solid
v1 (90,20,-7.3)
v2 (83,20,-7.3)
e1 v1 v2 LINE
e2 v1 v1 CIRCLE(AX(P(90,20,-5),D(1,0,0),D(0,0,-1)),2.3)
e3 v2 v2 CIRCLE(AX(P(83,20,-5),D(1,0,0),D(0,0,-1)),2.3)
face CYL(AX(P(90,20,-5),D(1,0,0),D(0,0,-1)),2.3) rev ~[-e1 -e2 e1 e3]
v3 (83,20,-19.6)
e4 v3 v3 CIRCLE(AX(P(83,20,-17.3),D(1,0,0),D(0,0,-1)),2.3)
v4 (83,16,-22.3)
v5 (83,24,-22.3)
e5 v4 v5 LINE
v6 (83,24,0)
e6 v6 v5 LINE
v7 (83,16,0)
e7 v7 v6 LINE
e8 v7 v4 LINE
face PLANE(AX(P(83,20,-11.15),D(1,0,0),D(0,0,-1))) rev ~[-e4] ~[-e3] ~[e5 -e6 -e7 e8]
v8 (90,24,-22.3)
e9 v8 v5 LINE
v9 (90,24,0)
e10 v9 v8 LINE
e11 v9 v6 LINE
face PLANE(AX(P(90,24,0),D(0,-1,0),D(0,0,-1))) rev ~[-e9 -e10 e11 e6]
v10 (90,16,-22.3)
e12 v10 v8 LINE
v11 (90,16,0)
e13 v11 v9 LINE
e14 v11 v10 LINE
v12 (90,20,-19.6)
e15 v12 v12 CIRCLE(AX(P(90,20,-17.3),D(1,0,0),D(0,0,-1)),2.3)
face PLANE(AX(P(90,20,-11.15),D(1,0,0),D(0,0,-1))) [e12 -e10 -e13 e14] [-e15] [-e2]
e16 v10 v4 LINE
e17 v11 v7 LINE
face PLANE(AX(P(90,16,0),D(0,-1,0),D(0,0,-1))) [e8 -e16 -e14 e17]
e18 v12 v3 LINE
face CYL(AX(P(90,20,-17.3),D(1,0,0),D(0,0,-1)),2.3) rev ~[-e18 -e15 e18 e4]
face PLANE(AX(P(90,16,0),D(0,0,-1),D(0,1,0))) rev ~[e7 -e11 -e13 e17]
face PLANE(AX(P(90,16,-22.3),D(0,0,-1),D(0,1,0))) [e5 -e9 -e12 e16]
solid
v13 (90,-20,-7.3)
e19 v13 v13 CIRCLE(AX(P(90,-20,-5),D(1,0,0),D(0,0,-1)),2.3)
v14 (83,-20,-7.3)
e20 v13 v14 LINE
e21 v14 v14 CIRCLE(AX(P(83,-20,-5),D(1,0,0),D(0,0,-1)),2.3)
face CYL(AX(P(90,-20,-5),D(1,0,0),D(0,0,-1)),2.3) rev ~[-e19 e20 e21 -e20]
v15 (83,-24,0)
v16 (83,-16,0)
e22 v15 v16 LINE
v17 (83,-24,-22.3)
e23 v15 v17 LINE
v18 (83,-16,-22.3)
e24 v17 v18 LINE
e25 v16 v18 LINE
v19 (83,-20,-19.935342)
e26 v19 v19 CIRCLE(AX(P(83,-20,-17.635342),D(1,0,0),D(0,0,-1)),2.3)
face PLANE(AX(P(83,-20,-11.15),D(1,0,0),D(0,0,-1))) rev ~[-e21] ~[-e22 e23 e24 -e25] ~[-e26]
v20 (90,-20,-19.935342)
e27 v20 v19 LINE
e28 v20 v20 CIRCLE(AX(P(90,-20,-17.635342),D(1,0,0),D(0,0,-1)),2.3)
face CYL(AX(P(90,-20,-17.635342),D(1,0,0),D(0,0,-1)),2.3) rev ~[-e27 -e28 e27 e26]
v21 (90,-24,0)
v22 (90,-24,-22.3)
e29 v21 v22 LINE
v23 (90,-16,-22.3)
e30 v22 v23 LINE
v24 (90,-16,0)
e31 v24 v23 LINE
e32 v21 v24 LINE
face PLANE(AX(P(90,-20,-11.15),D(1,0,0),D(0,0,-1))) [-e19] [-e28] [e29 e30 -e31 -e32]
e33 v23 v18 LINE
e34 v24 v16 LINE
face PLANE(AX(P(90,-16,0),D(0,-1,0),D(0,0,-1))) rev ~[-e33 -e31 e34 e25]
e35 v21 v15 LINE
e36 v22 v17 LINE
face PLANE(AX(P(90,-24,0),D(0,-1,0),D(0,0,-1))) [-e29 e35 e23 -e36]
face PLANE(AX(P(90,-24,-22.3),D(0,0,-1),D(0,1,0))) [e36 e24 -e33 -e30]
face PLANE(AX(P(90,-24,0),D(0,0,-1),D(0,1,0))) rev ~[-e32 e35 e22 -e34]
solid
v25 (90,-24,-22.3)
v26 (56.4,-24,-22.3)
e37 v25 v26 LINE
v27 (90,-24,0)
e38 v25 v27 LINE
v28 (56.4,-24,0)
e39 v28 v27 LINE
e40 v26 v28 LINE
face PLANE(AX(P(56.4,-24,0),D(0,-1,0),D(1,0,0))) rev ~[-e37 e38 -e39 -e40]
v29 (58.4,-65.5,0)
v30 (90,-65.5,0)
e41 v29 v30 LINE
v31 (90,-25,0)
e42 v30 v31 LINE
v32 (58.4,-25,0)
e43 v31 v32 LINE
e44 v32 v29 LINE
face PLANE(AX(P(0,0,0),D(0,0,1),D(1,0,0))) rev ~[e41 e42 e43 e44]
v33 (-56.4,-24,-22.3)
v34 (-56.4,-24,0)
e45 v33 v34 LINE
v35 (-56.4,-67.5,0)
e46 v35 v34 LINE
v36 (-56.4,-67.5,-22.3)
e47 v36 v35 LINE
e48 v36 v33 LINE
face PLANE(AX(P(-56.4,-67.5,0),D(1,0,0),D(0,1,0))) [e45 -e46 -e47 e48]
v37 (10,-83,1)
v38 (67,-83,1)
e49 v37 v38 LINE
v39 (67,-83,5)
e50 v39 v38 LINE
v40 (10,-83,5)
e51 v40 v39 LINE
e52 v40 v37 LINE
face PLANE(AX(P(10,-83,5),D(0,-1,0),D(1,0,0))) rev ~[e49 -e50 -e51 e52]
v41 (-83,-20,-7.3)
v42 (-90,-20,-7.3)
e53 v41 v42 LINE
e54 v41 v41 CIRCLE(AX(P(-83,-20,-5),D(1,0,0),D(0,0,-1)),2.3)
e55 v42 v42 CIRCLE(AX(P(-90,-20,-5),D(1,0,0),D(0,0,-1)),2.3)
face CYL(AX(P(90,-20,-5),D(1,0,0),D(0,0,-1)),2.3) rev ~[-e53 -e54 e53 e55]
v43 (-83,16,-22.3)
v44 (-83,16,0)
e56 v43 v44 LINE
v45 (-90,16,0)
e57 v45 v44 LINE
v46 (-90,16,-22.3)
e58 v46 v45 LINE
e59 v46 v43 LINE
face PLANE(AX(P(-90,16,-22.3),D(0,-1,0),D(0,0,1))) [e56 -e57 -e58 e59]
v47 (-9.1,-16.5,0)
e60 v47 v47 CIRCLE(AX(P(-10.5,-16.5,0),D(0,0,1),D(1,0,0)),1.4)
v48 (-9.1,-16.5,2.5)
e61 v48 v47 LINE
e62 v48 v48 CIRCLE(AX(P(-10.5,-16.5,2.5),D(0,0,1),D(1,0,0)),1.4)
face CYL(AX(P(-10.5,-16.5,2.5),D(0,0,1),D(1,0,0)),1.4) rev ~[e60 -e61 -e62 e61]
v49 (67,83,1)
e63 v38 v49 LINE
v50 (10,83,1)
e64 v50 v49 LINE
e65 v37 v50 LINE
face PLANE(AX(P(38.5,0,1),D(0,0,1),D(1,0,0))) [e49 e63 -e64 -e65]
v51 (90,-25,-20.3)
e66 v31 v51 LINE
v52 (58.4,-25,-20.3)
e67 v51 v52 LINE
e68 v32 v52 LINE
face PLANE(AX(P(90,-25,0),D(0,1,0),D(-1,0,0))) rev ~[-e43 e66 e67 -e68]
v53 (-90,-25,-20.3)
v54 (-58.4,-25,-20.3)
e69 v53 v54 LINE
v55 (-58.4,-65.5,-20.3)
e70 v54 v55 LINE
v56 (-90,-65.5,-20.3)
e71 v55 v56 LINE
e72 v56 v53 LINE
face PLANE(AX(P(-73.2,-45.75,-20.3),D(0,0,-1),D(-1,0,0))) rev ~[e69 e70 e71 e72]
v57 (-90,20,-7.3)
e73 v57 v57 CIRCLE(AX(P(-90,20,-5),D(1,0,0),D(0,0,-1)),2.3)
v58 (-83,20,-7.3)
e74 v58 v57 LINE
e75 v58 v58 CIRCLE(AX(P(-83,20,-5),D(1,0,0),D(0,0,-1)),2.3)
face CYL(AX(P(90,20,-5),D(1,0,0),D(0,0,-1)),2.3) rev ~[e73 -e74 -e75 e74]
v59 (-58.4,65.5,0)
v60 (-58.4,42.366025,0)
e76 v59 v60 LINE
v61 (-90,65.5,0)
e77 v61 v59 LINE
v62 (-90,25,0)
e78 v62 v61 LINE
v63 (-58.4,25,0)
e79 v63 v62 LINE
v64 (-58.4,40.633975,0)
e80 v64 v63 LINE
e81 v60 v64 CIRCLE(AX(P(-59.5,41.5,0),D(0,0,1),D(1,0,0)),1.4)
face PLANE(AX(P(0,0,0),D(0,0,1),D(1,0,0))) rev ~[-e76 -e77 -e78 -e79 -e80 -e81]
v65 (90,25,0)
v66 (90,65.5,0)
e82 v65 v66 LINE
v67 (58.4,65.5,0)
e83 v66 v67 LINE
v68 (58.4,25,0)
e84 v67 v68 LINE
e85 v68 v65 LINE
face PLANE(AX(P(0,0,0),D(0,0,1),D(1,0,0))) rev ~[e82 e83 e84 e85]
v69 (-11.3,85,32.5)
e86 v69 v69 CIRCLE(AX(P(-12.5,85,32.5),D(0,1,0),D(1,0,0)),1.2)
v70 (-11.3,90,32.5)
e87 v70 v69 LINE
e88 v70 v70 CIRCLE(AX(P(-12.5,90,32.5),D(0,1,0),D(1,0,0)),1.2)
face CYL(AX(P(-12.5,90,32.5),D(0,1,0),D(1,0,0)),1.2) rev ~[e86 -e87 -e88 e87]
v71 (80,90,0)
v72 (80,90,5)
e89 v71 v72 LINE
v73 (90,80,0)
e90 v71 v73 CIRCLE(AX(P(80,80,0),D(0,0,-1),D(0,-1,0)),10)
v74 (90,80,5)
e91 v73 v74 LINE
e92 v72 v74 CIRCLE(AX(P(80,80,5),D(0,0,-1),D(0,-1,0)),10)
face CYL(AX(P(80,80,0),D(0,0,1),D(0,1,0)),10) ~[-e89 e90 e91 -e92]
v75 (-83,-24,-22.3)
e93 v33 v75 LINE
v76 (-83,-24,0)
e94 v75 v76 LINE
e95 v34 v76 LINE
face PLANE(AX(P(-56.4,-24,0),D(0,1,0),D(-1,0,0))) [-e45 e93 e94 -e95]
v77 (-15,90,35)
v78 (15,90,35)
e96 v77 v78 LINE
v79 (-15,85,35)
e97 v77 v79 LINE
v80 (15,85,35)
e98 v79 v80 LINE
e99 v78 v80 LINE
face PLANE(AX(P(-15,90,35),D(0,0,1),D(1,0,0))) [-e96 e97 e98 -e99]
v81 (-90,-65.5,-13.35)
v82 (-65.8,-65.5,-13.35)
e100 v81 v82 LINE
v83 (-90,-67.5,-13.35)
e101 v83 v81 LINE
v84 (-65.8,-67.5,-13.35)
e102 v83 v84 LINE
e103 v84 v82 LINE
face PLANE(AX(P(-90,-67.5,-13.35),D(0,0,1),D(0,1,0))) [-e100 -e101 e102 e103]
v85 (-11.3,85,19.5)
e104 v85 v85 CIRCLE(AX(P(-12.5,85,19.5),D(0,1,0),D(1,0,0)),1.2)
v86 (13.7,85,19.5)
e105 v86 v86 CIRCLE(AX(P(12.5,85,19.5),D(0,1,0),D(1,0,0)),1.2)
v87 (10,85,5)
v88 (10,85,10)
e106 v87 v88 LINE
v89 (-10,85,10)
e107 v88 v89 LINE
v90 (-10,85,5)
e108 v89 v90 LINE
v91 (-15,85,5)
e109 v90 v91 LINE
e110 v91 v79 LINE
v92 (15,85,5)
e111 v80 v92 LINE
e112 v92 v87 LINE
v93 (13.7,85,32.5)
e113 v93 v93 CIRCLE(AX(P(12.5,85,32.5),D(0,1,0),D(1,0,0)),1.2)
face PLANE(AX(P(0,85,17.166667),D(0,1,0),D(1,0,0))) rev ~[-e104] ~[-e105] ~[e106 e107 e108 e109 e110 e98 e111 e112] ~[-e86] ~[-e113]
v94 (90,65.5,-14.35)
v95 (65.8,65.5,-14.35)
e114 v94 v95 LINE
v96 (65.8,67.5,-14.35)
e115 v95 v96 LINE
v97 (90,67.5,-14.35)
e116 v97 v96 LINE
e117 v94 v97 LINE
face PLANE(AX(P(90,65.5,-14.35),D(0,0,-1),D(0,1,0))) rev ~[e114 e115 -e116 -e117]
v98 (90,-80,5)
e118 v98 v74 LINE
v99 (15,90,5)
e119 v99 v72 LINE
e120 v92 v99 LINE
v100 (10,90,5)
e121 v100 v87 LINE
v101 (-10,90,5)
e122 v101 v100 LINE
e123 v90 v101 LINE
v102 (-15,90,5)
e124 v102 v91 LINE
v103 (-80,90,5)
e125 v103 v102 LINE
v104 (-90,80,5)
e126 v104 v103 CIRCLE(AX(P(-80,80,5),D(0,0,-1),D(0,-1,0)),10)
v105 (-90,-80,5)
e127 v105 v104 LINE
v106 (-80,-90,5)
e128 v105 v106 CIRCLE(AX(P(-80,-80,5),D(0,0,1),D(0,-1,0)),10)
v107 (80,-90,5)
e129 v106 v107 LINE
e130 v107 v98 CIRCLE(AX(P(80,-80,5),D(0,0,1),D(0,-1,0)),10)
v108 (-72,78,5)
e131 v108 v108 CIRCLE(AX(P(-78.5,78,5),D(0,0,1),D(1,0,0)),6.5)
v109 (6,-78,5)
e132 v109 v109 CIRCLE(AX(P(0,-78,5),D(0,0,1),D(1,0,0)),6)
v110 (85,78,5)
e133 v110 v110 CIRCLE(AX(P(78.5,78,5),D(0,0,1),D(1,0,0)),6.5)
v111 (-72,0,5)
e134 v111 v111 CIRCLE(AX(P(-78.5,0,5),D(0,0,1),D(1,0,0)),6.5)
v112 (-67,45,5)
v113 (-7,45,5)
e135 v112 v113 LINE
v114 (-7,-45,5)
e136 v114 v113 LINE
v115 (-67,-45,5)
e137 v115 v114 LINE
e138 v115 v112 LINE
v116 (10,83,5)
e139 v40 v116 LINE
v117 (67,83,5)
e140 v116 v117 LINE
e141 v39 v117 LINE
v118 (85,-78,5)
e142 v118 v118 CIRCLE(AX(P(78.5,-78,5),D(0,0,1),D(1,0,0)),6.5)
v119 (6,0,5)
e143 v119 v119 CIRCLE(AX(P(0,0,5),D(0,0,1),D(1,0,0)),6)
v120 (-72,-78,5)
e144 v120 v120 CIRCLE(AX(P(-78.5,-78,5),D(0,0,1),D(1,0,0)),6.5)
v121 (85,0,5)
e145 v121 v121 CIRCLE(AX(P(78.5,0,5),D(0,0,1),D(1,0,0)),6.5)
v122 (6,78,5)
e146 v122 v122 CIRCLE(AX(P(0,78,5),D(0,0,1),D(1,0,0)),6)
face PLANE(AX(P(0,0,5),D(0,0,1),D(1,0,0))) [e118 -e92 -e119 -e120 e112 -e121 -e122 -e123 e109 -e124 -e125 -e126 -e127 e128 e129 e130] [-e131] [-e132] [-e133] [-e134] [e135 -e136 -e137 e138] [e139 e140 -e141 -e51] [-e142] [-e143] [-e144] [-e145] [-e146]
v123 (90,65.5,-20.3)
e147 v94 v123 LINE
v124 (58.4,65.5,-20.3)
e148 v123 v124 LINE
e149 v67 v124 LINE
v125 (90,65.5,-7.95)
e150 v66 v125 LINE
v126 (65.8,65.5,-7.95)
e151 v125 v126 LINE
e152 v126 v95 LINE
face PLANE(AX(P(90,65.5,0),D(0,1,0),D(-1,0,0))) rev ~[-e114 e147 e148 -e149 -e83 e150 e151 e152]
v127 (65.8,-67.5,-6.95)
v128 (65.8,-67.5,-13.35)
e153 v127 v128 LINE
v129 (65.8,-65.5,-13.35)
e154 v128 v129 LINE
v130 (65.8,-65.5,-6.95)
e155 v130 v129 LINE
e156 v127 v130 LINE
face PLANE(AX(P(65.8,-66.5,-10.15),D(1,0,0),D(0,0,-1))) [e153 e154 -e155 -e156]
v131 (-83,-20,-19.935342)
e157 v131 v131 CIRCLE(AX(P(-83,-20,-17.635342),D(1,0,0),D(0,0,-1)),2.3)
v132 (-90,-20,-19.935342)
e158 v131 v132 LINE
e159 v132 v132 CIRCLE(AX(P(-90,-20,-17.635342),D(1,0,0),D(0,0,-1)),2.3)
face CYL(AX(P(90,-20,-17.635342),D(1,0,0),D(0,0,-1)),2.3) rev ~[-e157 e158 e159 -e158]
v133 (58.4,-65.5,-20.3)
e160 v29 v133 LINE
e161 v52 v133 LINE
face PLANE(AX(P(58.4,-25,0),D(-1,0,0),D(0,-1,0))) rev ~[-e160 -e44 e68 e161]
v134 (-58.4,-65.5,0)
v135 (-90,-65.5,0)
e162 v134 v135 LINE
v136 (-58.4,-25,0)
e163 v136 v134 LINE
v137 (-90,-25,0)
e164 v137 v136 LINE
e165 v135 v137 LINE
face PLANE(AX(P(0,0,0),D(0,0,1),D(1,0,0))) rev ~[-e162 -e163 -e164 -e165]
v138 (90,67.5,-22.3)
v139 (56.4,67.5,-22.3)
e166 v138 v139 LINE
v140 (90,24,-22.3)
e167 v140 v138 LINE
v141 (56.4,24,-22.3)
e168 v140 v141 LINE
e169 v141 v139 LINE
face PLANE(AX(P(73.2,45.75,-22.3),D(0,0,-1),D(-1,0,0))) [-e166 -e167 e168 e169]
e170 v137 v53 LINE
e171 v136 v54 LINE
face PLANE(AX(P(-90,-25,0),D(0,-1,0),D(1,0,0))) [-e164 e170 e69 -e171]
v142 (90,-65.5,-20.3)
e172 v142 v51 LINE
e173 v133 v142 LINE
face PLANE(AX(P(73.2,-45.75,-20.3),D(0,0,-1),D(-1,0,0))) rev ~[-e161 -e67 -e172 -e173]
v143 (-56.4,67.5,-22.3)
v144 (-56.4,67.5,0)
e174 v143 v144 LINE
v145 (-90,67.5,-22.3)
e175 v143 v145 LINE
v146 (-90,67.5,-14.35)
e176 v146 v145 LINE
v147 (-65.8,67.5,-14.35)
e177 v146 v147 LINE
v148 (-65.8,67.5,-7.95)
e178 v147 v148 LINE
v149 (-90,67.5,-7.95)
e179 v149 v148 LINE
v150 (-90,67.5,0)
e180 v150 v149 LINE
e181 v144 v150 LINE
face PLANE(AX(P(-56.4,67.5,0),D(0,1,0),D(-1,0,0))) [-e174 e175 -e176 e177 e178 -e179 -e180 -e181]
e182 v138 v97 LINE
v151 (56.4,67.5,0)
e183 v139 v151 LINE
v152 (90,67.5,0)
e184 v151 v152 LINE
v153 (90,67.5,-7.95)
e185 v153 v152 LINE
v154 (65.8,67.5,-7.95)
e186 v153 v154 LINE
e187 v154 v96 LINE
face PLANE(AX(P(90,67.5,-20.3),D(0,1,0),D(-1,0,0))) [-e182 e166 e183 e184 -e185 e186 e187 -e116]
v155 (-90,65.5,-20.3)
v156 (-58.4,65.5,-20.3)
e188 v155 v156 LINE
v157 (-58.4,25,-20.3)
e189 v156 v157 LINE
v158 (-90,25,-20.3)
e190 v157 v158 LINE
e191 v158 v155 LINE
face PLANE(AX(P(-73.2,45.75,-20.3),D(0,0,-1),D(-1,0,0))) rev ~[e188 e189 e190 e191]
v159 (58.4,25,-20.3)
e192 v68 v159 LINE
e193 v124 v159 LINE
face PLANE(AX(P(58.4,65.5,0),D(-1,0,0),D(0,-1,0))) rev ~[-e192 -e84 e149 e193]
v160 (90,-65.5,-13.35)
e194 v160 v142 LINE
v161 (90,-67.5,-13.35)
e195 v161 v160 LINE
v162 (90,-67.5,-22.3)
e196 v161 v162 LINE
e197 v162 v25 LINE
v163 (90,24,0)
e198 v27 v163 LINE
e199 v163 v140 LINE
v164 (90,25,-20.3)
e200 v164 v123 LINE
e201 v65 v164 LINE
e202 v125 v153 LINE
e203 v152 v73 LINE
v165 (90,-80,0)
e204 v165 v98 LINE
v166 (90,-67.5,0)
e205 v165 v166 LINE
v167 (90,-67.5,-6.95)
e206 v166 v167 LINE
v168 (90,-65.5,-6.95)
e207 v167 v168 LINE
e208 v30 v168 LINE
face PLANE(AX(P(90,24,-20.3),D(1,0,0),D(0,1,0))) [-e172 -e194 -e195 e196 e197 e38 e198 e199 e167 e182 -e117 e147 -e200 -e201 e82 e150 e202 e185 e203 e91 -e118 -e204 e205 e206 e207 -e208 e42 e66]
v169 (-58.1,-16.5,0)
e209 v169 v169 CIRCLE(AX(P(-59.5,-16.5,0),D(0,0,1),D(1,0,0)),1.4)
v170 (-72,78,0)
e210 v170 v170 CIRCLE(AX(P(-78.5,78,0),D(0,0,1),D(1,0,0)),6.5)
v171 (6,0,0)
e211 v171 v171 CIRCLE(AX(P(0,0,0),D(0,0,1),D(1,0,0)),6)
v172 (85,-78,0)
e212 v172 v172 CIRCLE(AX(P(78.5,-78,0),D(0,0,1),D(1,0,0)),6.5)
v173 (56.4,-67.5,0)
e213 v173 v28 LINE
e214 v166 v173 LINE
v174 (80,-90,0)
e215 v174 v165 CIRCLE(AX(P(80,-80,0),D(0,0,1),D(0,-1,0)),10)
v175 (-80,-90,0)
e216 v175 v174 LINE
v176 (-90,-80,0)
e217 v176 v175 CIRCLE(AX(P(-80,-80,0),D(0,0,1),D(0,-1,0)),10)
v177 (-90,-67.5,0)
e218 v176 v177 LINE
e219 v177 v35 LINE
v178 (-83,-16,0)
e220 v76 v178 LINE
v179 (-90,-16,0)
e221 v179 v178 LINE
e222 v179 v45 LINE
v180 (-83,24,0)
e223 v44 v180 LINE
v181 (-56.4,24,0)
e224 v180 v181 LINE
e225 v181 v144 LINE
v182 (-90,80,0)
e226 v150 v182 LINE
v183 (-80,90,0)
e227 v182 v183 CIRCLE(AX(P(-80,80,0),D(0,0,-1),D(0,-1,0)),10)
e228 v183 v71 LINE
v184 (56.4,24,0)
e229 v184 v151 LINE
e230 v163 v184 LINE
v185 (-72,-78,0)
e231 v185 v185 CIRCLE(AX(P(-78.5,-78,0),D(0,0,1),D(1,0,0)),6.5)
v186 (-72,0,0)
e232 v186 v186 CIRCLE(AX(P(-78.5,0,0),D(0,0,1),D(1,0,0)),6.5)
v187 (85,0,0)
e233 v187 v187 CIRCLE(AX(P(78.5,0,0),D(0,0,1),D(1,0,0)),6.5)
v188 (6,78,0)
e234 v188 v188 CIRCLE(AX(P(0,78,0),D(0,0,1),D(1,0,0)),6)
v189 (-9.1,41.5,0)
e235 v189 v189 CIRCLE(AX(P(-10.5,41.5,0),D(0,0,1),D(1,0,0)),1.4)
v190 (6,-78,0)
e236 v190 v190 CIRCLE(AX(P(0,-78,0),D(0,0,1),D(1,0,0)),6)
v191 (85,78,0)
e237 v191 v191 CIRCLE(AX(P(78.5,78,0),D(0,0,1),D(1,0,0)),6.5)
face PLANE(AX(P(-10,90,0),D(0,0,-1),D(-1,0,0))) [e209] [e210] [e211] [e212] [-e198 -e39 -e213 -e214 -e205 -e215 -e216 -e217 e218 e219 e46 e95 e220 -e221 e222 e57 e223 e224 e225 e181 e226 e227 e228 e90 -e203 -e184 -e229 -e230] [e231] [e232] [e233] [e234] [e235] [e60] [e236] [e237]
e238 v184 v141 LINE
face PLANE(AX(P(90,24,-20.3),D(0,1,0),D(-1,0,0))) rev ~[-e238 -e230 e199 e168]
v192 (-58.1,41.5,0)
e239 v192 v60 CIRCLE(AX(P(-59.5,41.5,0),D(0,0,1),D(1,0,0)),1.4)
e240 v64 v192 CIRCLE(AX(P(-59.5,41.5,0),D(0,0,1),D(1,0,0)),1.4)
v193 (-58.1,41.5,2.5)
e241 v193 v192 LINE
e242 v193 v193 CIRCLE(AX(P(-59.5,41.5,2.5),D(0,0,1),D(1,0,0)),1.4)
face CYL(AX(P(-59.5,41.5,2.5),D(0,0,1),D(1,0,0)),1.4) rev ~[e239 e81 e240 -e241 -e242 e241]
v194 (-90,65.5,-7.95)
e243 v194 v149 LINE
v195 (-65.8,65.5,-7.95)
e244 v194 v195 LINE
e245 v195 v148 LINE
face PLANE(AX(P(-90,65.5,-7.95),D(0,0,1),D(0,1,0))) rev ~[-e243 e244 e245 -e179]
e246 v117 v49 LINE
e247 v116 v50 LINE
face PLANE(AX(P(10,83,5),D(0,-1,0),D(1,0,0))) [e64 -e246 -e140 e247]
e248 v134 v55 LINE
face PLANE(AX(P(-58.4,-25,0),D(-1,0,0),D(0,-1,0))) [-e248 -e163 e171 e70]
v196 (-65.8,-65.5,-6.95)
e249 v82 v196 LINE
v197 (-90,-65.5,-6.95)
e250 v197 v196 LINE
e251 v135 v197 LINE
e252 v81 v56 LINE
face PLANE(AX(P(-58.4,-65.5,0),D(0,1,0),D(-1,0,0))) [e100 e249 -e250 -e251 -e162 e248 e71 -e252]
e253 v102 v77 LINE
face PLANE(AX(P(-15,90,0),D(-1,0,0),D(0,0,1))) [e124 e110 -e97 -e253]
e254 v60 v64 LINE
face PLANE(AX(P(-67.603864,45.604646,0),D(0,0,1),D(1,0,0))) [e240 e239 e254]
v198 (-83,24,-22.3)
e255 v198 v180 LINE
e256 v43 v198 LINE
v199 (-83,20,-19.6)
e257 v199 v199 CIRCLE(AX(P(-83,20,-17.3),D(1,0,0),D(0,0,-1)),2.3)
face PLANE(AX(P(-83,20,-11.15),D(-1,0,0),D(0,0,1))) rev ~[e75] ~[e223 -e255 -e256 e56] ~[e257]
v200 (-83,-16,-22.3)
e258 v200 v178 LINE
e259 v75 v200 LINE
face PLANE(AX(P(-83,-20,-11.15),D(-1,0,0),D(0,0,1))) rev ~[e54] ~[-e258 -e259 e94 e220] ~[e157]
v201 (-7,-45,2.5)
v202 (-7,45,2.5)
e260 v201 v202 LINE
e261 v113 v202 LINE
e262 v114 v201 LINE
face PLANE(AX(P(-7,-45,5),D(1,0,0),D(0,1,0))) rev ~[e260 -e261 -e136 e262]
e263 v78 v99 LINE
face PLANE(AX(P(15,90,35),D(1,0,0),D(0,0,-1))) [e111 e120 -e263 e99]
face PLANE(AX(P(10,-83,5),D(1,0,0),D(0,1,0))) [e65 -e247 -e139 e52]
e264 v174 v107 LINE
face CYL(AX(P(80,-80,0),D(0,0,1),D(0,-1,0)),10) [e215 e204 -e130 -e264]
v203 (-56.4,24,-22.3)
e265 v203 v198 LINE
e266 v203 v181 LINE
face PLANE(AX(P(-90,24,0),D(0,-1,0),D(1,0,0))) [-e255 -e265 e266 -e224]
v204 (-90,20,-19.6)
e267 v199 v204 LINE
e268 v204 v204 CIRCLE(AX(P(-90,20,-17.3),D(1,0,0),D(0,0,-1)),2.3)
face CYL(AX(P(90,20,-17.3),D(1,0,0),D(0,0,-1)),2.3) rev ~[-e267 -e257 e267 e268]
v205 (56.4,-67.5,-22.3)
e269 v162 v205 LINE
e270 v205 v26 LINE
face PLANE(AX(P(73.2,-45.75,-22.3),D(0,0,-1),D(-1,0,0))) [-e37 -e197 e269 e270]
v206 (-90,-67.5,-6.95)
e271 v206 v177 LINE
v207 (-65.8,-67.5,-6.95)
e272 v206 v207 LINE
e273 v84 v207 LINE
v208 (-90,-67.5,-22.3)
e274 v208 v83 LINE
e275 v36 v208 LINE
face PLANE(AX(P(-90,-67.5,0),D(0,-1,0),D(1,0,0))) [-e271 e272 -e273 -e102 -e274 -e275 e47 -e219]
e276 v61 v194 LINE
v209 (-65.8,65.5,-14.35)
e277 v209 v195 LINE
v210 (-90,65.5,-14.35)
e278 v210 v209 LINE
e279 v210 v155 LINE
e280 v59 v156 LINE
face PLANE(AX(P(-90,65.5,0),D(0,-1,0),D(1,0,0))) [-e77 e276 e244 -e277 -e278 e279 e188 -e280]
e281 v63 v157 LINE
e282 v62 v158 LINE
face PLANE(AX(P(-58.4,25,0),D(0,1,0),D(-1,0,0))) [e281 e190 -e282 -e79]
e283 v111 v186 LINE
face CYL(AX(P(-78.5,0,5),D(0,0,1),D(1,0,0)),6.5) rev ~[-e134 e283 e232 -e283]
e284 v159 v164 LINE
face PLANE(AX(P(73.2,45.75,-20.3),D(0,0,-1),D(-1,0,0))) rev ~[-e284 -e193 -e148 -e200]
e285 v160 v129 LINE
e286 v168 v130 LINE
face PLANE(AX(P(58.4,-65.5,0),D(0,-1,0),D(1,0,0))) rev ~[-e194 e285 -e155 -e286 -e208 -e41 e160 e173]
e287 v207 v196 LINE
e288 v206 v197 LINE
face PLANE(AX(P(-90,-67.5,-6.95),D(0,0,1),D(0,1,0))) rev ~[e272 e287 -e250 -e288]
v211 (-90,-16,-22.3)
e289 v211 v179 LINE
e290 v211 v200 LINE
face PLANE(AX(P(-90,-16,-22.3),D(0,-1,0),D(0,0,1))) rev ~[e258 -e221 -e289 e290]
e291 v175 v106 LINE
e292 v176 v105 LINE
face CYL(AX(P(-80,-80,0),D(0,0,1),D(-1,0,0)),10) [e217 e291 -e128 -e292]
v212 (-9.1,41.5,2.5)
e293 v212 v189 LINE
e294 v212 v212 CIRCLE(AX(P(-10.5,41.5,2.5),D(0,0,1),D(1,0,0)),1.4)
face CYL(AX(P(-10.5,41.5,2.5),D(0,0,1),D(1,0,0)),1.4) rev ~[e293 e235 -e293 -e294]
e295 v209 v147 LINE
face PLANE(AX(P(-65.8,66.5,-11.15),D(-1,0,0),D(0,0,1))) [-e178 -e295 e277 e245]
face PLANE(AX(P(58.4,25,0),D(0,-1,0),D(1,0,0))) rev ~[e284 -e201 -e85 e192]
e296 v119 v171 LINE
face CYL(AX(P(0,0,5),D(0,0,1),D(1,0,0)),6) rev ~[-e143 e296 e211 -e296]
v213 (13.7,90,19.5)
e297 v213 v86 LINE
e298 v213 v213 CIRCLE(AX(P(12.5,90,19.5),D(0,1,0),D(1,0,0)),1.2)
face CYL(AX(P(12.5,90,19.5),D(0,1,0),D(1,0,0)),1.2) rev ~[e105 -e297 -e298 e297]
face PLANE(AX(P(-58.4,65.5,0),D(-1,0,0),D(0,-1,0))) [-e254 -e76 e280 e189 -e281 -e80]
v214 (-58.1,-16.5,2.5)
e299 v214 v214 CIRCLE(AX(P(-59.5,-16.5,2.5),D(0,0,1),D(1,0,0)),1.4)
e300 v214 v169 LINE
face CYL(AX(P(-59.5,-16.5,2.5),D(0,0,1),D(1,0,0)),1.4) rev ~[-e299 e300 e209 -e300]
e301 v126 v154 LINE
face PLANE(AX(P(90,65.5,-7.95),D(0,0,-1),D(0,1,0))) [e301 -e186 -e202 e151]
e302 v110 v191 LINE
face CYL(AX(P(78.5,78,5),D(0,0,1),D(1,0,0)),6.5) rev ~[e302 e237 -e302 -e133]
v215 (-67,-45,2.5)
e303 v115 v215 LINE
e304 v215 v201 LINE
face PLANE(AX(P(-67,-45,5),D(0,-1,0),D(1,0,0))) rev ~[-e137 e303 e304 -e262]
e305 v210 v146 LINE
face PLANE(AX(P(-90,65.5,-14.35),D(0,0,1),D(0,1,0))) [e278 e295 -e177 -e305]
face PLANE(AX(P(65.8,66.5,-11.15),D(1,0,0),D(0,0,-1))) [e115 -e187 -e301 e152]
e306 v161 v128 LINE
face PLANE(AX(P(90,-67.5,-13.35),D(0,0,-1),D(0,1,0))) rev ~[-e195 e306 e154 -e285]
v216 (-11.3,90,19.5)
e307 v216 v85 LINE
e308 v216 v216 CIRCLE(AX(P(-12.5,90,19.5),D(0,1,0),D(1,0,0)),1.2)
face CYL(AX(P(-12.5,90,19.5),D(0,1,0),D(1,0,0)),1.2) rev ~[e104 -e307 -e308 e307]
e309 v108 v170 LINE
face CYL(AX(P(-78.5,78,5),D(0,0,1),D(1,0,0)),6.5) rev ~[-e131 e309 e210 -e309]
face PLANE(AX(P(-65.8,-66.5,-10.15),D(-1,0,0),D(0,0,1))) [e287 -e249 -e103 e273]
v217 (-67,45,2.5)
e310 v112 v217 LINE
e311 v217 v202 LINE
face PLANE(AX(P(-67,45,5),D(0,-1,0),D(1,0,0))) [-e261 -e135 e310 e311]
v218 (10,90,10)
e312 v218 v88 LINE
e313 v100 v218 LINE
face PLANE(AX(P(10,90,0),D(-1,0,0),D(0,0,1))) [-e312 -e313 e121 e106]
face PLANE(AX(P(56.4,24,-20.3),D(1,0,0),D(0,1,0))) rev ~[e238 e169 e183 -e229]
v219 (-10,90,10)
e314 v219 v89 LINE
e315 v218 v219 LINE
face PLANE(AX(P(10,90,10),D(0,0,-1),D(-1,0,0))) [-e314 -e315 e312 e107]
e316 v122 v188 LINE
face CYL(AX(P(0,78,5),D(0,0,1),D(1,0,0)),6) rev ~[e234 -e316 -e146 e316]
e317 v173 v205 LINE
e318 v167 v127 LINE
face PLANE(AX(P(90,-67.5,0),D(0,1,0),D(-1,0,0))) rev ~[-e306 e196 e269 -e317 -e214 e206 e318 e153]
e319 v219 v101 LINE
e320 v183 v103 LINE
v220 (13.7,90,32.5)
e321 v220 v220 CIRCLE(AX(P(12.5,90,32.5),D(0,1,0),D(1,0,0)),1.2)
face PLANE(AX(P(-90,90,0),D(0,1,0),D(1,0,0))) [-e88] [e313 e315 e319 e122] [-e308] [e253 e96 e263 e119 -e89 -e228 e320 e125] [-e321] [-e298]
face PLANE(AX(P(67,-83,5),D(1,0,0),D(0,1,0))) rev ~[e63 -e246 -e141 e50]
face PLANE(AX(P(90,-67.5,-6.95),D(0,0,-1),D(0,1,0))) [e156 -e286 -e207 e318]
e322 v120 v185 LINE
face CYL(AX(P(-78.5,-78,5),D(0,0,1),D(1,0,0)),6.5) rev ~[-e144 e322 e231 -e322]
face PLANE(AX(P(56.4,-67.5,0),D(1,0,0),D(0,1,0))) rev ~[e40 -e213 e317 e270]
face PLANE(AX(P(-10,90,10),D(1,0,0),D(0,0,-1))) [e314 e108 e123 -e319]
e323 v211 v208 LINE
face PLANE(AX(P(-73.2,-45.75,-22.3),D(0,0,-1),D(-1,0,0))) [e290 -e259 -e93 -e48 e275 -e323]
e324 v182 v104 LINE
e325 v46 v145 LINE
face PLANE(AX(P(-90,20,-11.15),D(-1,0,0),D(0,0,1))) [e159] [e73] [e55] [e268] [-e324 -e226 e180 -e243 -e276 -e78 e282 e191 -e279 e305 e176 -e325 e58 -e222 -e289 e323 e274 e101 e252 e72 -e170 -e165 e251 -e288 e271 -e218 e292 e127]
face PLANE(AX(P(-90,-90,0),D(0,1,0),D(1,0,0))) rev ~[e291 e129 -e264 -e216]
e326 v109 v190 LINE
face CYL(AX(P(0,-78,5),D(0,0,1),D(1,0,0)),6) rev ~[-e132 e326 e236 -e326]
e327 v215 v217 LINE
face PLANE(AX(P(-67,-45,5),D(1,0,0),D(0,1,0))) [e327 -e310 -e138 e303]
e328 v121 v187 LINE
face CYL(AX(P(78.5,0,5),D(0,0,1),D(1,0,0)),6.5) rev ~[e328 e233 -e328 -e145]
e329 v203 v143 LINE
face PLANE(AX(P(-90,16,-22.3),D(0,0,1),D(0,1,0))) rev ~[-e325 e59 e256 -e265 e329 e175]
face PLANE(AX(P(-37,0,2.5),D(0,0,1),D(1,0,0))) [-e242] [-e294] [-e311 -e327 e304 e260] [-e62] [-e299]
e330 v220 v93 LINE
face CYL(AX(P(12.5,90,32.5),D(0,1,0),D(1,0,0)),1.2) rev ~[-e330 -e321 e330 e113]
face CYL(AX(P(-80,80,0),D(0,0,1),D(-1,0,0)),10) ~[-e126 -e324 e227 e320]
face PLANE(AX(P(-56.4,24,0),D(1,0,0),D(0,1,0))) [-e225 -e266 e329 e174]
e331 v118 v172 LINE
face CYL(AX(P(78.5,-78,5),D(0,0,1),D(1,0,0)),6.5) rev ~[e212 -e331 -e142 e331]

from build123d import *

# Parameters (mm, degrees)
SKETCH1_W             = 180
SKETCH1_H             = 180
BOSS_EXTRUDE1_DEPTH   = 5
SKETCH2_W             = 60
SKETCH2_H             = 90
CUT_EXTRUDE1_DEPTH    = 2.5
SKETCH3_R             = 1.4
CUT_EXTRUDE2_DEPTH    = 2.5
SKETCH4_W             = 57
SKETCH4_H             = 166
CUT_EXTRUDE3_DEPTH    = 4
BOSS_EXTRUDE2_DEPTH   = 20.3
SKETCH7_W             = 33.6
SKETCH7_H             = 43.5
BOSS_EXTRUDE3_DEPTH   = 2
SKETCH8_W             = 6.4
SKETCH8_H             = 2
CUT_EXTRUDE5_DEPTH    = 24.2
SKETCH9_W             = 22.3
SKETCH9_H             = 8
BOSS_EXTRUDE4_DEPTH   = 7
BOSS_EXTRUDE4_2_DEPTH = 7
SKETCH12_W            = 22.3
SKETCH12_H            = 8
BOSS_EXTRUDE5_DEPTH   = 7
SKETCH11_W            = 6.4
SKETCH11_H            = 2
CUT_EXTRUDE7_DEPTH    = 24.2
SKETCH10_R            = 2.3
CUT_EXTRUDE6_DEPTH    = 181
SKETCH13_R            = 6.5
SKETCH13_R_2          = 6
CUT_EXTRUDE8_DEPTH    = 28.3
FILLET1_R             = 10
BOSS_EXTRUDE6_DEPTH   = 5
SKETCH15_R            = 1.2
CUT_EXTRUDE9_DEPTH    = 181


with BuildPart() as part:
    # Sketch1 → Boss-Extrude1 (new body)
    with BuildSketch(Plane.XY):
        Rectangle(SKETCH1_W, SKETCH1_H)
    extrude(amount=BOSS_EXTRUDE1_DEPTH)

    # Sketch2 → Cut-Extrude1 (cut)
    with BuildSketch(Plane.XY.offset(5)):
        with Locations((-37, 0)):
            Rectangle(SKETCH2_W, SKETCH2_H)
    extrude(amount=-CUT_EXTRUDE1_DEPTH, mode=Mode.SUBTRACT)

    # Sketch3 → Cut-Extrude2 (cut)
    with BuildSketch(Plane.XY.offset(2.5)):
        with Locations((-10.5, 41.5)):
            Circle(SKETCH3_R)
        with Locations((-59.5, 41.5)):
            Circle(SKETCH3_R)
        with Locations((-59.5, -16.5)):
            Circle(SKETCH3_R)
        with Locations((-10.5, -16.5)):
            Circle(SKETCH3_R)
    extrude(amount=-CUT_EXTRUDE2_DEPTH, mode=Mode.SUBTRACT)

    # Sketch4 → Cut-Extrude3 (cut)
    with BuildSketch(Plane.XY.offset(5)):
        with Locations((38.5, 0)):
            Rectangle(SKETCH4_W, SKETCH4_H)
    extrude(amount=-CUT_EXTRUDE3_DEPTH, mode=Mode.SUBTRACT)

    # Sketch6 → Boss-Extrude2 (add)
    with BuildSketch(Plane(origin=(0, 0, 0), x_dir=(-1, 0, 0), z_dir=(0, 0, -1))):
        Polygon((90, 65.5), (58.4, 65.5), (58.4, 25), (90, 25), (90, 24), (56.4, 24), (56.4, 67.5), (90, 67.5), align=None)
        Polygon((90, -25), (58.4, -25), (58.4, -65.5), (90, -65.5), (90, -67.5), (56.4, -67.5), (56.4, -24), (90, -24), align=None)
        Polygon((-90, -25), (-58.4, -25), (-58.4, -65.5), (-90, -65.5), (-90, -67.5), (-56.4, -67.5), (-56.4, -24), (-90, -24), align=None)
        Polygon((-90, 65.5), (-58.4, 65.5), (-58.4, 25), (-90, 25), (-90, 24), (-56.4, 24), (-56.4, 67.5), (-90, 67.5), align=None)
    extrude(amount=BOSS_EXTRUDE2_DEPTH)

    # Sketch7 → Boss-Extrude3 (add)
    with BuildSketch(Plane(origin=(0, 0, -20.3), x_dir=(-1, 0, 0), z_dir=(0, 0, -1))):
        with Locations((-73.2, 45.75)):
            Rectangle(SKETCH7_W, SKETCH7_H)
        with Locations((-73.2, -45.75)):
            Rectangle(SKETCH7_W, SKETCH7_H)
        with Locations((73.2, -45.75)):
            Rectangle(SKETCH7_W, SKETCH7_H)
        with Locations((73.2, 45.75)):
            Rectangle(SKETCH7_W, SKETCH7_H)
    extrude(amount=BOSS_EXTRUDE3_DEPTH)

    # Sketch8 → Cut-Extrude5 (cut)
    with BuildSketch(Plane(origin=(90, 0, 0), x_dir=(0, 0, -1), z_dir=(1, 0, 0))):
        with Locations((10.15, -66.5)):
            Rectangle(SKETCH8_W, SKETCH8_H)
        with Locations((11.15, 66.5)):
            Rectangle(SKETCH8_W, SKETCH8_H)
    extrude(amount=-CUT_EXTRUDE5_DEPTH, mode=Mode.SUBTRACT)

    # Sketch12 → Boss-Extrude5 (add)
    with BuildSketch(Plane.ZY.offset(90)):
        with Locations((-11.15, 20)):
            Rectangle(SKETCH12_W, SKETCH12_H)
        with Locations((-11.15, -20)):
            Rectangle(SKETCH12_W, SKETCH12_H)
    extrude(amount=-BOSS_EXTRUDE5_DEPTH)

    # Sketch11 → Cut-Extrude7 (cut)
    with BuildSketch(Plane.ZY.offset(90)):
        with Locations((-11.15, 66.5)):
            Rectangle(SKETCH11_W, SKETCH11_H)
        with Locations((-10.15, -66.5)):
            Rectangle(SKETCH11_W, SKETCH11_H)
    extrude(amount=-CUT_EXTRUDE7_DEPTH, mode=Mode.SUBTRACT)


with BuildPart() as body_2:
    # Sketch9 → Boss-Extrude4 (new body)
    with BuildSketch(Plane(origin=(90, 0, 0), x_dir=(0, 0, -1), z_dir=(1, 0, 0))):
        with Locations((11.15, 20)):
            Rectangle(SKETCH9_W, SKETCH9_H)
    extrude(amount=-BOSS_EXTRUDE4_DEPTH)


with BuildPart() as body_3:
    # Sketch9 → Boss-Extrude4 2 (new body)
    with BuildSketch(Plane(origin=(90, 0, 0), x_dir=(0, 0, -1), z_dir=(1, 0, 0))):
        with Locations((11.15, -20)):
            Rectangle(SKETCH9_W, SKETCH9_H)
    extrude(amount=-BOSS_EXTRUDE4_2_DEPTH)


with BuildPart() as cut_extrude6_tool:
    # Sketch10 → Cut-Extrude6 (new body, through all)
    with BuildSketch(Plane(origin=(90, 0, 0), x_dir=(0, 0, -1), z_dir=(1, 0, 0))):
        with Locations((5, 20)):
            Circle(SKETCH10_R)
        with Locations((17.3, 20)):
            Circle(SKETCH10_R)
        with Locations((5, -20)):
            Circle(SKETCH10_R)
        with Locations((17.635342224, -20)):
            Circle(SKETCH10_R)
    extrude(amount=-CUT_EXTRUDE6_DEPTH)


with BuildPart() as part_1:
    add(part.part)

    # Cut-Extrude6: cut by cut_extrude6_tool
    add(cut_extrude6_tool.part, mode=Mode.SUBTRACT)

    # Sketch13 → Cut-Extrude8 (cut, through all)
    with BuildSketch(Plane.XY.offset(5)):
        with Locations((78.5, 78)):
            Circle(SKETCH13_R)
        with Locations((78.5, 0)):
            Circle(SKETCH13_R)
        with Locations((78.5, -78)):
            Circle(SKETCH13_R)
        with Locations((-78.5, 78)):
            Circle(SKETCH13_R)
        with Locations((-78.5, 0)):
            Circle(SKETCH13_R)
        with Locations((-78.5, -78)):
            Circle(SKETCH13_R)
        Circle(SKETCH13_R_2)
        with Locations((0, 78)):
            Circle(SKETCH13_R_2)
        with Locations((0, -78)):
            Circle(SKETCH13_R_2)
    extrude(amount=-CUT_EXTRUDE8_DEPTH, mode=Mode.SUBTRACT)

    # Fillet1
    fillet1_edges = [part_1.edges().sort_by_distance(p)[0] for p in [
        (-90, 90, 2.5),
        (90, 90, 2.5),
        (90, -90, 2.5),
        (-90, -90, 2.5),
    ]]
    fillet(fillet1_edges, radius=FILLET1_R)

    # Sketch14 → Boss-Extrude6 (add)
    with BuildSketch(Plane(origin=(0, 90, 0), x_dir=(1, 0, 0), z_dir=(0, 1, 0))):
        Polygon((-15, 0), (-15, -35), (15, -35), (15, 0), (10, 0), (10, -10), (-10, -10), (-10, 0), align=None)
    extrude(amount=-BOSS_EXTRUDE6_DEPTH)

    # Sketch15 → Cut-Extrude9 (cut, through all)
    with BuildSketch(Plane(origin=(0, 90, 0), x_dir=(1, 0, 0), z_dir=(0, 1, 0))):
        with Locations((-12.5, -32.5)):
            Circle(SKETCH15_R)
        with Locations((12.5, -32.5)):
            Circle(SKETCH15_R)
        with Locations((-12.5, -19.5)):
            Circle(SKETCH15_R)
        with Locations((12.5, -19.5)):
            Circle(SKETCH15_R)
    extrude(amount=-CUT_EXTRUDE9_DEPTH, mode=Mode.SUBTRACT)


with BuildPart() as body_2_1:
    add(body_2.part)

    # Cut-Extrude6: cut by cut_extrude6_tool
    add(cut_extrude6_tool.part, mode=Mode.SUBTRACT)


with BuildPart() as body_3_1:
    add(body_3.part)

    # Cut-Extrude6: cut by cut_extrude6_tool
    add(cut_extrude6_tool.part, mode=Mode.SUBTRACT)


solid = Compound([part_1.part, body_2_1.part, body_3_1.part])
